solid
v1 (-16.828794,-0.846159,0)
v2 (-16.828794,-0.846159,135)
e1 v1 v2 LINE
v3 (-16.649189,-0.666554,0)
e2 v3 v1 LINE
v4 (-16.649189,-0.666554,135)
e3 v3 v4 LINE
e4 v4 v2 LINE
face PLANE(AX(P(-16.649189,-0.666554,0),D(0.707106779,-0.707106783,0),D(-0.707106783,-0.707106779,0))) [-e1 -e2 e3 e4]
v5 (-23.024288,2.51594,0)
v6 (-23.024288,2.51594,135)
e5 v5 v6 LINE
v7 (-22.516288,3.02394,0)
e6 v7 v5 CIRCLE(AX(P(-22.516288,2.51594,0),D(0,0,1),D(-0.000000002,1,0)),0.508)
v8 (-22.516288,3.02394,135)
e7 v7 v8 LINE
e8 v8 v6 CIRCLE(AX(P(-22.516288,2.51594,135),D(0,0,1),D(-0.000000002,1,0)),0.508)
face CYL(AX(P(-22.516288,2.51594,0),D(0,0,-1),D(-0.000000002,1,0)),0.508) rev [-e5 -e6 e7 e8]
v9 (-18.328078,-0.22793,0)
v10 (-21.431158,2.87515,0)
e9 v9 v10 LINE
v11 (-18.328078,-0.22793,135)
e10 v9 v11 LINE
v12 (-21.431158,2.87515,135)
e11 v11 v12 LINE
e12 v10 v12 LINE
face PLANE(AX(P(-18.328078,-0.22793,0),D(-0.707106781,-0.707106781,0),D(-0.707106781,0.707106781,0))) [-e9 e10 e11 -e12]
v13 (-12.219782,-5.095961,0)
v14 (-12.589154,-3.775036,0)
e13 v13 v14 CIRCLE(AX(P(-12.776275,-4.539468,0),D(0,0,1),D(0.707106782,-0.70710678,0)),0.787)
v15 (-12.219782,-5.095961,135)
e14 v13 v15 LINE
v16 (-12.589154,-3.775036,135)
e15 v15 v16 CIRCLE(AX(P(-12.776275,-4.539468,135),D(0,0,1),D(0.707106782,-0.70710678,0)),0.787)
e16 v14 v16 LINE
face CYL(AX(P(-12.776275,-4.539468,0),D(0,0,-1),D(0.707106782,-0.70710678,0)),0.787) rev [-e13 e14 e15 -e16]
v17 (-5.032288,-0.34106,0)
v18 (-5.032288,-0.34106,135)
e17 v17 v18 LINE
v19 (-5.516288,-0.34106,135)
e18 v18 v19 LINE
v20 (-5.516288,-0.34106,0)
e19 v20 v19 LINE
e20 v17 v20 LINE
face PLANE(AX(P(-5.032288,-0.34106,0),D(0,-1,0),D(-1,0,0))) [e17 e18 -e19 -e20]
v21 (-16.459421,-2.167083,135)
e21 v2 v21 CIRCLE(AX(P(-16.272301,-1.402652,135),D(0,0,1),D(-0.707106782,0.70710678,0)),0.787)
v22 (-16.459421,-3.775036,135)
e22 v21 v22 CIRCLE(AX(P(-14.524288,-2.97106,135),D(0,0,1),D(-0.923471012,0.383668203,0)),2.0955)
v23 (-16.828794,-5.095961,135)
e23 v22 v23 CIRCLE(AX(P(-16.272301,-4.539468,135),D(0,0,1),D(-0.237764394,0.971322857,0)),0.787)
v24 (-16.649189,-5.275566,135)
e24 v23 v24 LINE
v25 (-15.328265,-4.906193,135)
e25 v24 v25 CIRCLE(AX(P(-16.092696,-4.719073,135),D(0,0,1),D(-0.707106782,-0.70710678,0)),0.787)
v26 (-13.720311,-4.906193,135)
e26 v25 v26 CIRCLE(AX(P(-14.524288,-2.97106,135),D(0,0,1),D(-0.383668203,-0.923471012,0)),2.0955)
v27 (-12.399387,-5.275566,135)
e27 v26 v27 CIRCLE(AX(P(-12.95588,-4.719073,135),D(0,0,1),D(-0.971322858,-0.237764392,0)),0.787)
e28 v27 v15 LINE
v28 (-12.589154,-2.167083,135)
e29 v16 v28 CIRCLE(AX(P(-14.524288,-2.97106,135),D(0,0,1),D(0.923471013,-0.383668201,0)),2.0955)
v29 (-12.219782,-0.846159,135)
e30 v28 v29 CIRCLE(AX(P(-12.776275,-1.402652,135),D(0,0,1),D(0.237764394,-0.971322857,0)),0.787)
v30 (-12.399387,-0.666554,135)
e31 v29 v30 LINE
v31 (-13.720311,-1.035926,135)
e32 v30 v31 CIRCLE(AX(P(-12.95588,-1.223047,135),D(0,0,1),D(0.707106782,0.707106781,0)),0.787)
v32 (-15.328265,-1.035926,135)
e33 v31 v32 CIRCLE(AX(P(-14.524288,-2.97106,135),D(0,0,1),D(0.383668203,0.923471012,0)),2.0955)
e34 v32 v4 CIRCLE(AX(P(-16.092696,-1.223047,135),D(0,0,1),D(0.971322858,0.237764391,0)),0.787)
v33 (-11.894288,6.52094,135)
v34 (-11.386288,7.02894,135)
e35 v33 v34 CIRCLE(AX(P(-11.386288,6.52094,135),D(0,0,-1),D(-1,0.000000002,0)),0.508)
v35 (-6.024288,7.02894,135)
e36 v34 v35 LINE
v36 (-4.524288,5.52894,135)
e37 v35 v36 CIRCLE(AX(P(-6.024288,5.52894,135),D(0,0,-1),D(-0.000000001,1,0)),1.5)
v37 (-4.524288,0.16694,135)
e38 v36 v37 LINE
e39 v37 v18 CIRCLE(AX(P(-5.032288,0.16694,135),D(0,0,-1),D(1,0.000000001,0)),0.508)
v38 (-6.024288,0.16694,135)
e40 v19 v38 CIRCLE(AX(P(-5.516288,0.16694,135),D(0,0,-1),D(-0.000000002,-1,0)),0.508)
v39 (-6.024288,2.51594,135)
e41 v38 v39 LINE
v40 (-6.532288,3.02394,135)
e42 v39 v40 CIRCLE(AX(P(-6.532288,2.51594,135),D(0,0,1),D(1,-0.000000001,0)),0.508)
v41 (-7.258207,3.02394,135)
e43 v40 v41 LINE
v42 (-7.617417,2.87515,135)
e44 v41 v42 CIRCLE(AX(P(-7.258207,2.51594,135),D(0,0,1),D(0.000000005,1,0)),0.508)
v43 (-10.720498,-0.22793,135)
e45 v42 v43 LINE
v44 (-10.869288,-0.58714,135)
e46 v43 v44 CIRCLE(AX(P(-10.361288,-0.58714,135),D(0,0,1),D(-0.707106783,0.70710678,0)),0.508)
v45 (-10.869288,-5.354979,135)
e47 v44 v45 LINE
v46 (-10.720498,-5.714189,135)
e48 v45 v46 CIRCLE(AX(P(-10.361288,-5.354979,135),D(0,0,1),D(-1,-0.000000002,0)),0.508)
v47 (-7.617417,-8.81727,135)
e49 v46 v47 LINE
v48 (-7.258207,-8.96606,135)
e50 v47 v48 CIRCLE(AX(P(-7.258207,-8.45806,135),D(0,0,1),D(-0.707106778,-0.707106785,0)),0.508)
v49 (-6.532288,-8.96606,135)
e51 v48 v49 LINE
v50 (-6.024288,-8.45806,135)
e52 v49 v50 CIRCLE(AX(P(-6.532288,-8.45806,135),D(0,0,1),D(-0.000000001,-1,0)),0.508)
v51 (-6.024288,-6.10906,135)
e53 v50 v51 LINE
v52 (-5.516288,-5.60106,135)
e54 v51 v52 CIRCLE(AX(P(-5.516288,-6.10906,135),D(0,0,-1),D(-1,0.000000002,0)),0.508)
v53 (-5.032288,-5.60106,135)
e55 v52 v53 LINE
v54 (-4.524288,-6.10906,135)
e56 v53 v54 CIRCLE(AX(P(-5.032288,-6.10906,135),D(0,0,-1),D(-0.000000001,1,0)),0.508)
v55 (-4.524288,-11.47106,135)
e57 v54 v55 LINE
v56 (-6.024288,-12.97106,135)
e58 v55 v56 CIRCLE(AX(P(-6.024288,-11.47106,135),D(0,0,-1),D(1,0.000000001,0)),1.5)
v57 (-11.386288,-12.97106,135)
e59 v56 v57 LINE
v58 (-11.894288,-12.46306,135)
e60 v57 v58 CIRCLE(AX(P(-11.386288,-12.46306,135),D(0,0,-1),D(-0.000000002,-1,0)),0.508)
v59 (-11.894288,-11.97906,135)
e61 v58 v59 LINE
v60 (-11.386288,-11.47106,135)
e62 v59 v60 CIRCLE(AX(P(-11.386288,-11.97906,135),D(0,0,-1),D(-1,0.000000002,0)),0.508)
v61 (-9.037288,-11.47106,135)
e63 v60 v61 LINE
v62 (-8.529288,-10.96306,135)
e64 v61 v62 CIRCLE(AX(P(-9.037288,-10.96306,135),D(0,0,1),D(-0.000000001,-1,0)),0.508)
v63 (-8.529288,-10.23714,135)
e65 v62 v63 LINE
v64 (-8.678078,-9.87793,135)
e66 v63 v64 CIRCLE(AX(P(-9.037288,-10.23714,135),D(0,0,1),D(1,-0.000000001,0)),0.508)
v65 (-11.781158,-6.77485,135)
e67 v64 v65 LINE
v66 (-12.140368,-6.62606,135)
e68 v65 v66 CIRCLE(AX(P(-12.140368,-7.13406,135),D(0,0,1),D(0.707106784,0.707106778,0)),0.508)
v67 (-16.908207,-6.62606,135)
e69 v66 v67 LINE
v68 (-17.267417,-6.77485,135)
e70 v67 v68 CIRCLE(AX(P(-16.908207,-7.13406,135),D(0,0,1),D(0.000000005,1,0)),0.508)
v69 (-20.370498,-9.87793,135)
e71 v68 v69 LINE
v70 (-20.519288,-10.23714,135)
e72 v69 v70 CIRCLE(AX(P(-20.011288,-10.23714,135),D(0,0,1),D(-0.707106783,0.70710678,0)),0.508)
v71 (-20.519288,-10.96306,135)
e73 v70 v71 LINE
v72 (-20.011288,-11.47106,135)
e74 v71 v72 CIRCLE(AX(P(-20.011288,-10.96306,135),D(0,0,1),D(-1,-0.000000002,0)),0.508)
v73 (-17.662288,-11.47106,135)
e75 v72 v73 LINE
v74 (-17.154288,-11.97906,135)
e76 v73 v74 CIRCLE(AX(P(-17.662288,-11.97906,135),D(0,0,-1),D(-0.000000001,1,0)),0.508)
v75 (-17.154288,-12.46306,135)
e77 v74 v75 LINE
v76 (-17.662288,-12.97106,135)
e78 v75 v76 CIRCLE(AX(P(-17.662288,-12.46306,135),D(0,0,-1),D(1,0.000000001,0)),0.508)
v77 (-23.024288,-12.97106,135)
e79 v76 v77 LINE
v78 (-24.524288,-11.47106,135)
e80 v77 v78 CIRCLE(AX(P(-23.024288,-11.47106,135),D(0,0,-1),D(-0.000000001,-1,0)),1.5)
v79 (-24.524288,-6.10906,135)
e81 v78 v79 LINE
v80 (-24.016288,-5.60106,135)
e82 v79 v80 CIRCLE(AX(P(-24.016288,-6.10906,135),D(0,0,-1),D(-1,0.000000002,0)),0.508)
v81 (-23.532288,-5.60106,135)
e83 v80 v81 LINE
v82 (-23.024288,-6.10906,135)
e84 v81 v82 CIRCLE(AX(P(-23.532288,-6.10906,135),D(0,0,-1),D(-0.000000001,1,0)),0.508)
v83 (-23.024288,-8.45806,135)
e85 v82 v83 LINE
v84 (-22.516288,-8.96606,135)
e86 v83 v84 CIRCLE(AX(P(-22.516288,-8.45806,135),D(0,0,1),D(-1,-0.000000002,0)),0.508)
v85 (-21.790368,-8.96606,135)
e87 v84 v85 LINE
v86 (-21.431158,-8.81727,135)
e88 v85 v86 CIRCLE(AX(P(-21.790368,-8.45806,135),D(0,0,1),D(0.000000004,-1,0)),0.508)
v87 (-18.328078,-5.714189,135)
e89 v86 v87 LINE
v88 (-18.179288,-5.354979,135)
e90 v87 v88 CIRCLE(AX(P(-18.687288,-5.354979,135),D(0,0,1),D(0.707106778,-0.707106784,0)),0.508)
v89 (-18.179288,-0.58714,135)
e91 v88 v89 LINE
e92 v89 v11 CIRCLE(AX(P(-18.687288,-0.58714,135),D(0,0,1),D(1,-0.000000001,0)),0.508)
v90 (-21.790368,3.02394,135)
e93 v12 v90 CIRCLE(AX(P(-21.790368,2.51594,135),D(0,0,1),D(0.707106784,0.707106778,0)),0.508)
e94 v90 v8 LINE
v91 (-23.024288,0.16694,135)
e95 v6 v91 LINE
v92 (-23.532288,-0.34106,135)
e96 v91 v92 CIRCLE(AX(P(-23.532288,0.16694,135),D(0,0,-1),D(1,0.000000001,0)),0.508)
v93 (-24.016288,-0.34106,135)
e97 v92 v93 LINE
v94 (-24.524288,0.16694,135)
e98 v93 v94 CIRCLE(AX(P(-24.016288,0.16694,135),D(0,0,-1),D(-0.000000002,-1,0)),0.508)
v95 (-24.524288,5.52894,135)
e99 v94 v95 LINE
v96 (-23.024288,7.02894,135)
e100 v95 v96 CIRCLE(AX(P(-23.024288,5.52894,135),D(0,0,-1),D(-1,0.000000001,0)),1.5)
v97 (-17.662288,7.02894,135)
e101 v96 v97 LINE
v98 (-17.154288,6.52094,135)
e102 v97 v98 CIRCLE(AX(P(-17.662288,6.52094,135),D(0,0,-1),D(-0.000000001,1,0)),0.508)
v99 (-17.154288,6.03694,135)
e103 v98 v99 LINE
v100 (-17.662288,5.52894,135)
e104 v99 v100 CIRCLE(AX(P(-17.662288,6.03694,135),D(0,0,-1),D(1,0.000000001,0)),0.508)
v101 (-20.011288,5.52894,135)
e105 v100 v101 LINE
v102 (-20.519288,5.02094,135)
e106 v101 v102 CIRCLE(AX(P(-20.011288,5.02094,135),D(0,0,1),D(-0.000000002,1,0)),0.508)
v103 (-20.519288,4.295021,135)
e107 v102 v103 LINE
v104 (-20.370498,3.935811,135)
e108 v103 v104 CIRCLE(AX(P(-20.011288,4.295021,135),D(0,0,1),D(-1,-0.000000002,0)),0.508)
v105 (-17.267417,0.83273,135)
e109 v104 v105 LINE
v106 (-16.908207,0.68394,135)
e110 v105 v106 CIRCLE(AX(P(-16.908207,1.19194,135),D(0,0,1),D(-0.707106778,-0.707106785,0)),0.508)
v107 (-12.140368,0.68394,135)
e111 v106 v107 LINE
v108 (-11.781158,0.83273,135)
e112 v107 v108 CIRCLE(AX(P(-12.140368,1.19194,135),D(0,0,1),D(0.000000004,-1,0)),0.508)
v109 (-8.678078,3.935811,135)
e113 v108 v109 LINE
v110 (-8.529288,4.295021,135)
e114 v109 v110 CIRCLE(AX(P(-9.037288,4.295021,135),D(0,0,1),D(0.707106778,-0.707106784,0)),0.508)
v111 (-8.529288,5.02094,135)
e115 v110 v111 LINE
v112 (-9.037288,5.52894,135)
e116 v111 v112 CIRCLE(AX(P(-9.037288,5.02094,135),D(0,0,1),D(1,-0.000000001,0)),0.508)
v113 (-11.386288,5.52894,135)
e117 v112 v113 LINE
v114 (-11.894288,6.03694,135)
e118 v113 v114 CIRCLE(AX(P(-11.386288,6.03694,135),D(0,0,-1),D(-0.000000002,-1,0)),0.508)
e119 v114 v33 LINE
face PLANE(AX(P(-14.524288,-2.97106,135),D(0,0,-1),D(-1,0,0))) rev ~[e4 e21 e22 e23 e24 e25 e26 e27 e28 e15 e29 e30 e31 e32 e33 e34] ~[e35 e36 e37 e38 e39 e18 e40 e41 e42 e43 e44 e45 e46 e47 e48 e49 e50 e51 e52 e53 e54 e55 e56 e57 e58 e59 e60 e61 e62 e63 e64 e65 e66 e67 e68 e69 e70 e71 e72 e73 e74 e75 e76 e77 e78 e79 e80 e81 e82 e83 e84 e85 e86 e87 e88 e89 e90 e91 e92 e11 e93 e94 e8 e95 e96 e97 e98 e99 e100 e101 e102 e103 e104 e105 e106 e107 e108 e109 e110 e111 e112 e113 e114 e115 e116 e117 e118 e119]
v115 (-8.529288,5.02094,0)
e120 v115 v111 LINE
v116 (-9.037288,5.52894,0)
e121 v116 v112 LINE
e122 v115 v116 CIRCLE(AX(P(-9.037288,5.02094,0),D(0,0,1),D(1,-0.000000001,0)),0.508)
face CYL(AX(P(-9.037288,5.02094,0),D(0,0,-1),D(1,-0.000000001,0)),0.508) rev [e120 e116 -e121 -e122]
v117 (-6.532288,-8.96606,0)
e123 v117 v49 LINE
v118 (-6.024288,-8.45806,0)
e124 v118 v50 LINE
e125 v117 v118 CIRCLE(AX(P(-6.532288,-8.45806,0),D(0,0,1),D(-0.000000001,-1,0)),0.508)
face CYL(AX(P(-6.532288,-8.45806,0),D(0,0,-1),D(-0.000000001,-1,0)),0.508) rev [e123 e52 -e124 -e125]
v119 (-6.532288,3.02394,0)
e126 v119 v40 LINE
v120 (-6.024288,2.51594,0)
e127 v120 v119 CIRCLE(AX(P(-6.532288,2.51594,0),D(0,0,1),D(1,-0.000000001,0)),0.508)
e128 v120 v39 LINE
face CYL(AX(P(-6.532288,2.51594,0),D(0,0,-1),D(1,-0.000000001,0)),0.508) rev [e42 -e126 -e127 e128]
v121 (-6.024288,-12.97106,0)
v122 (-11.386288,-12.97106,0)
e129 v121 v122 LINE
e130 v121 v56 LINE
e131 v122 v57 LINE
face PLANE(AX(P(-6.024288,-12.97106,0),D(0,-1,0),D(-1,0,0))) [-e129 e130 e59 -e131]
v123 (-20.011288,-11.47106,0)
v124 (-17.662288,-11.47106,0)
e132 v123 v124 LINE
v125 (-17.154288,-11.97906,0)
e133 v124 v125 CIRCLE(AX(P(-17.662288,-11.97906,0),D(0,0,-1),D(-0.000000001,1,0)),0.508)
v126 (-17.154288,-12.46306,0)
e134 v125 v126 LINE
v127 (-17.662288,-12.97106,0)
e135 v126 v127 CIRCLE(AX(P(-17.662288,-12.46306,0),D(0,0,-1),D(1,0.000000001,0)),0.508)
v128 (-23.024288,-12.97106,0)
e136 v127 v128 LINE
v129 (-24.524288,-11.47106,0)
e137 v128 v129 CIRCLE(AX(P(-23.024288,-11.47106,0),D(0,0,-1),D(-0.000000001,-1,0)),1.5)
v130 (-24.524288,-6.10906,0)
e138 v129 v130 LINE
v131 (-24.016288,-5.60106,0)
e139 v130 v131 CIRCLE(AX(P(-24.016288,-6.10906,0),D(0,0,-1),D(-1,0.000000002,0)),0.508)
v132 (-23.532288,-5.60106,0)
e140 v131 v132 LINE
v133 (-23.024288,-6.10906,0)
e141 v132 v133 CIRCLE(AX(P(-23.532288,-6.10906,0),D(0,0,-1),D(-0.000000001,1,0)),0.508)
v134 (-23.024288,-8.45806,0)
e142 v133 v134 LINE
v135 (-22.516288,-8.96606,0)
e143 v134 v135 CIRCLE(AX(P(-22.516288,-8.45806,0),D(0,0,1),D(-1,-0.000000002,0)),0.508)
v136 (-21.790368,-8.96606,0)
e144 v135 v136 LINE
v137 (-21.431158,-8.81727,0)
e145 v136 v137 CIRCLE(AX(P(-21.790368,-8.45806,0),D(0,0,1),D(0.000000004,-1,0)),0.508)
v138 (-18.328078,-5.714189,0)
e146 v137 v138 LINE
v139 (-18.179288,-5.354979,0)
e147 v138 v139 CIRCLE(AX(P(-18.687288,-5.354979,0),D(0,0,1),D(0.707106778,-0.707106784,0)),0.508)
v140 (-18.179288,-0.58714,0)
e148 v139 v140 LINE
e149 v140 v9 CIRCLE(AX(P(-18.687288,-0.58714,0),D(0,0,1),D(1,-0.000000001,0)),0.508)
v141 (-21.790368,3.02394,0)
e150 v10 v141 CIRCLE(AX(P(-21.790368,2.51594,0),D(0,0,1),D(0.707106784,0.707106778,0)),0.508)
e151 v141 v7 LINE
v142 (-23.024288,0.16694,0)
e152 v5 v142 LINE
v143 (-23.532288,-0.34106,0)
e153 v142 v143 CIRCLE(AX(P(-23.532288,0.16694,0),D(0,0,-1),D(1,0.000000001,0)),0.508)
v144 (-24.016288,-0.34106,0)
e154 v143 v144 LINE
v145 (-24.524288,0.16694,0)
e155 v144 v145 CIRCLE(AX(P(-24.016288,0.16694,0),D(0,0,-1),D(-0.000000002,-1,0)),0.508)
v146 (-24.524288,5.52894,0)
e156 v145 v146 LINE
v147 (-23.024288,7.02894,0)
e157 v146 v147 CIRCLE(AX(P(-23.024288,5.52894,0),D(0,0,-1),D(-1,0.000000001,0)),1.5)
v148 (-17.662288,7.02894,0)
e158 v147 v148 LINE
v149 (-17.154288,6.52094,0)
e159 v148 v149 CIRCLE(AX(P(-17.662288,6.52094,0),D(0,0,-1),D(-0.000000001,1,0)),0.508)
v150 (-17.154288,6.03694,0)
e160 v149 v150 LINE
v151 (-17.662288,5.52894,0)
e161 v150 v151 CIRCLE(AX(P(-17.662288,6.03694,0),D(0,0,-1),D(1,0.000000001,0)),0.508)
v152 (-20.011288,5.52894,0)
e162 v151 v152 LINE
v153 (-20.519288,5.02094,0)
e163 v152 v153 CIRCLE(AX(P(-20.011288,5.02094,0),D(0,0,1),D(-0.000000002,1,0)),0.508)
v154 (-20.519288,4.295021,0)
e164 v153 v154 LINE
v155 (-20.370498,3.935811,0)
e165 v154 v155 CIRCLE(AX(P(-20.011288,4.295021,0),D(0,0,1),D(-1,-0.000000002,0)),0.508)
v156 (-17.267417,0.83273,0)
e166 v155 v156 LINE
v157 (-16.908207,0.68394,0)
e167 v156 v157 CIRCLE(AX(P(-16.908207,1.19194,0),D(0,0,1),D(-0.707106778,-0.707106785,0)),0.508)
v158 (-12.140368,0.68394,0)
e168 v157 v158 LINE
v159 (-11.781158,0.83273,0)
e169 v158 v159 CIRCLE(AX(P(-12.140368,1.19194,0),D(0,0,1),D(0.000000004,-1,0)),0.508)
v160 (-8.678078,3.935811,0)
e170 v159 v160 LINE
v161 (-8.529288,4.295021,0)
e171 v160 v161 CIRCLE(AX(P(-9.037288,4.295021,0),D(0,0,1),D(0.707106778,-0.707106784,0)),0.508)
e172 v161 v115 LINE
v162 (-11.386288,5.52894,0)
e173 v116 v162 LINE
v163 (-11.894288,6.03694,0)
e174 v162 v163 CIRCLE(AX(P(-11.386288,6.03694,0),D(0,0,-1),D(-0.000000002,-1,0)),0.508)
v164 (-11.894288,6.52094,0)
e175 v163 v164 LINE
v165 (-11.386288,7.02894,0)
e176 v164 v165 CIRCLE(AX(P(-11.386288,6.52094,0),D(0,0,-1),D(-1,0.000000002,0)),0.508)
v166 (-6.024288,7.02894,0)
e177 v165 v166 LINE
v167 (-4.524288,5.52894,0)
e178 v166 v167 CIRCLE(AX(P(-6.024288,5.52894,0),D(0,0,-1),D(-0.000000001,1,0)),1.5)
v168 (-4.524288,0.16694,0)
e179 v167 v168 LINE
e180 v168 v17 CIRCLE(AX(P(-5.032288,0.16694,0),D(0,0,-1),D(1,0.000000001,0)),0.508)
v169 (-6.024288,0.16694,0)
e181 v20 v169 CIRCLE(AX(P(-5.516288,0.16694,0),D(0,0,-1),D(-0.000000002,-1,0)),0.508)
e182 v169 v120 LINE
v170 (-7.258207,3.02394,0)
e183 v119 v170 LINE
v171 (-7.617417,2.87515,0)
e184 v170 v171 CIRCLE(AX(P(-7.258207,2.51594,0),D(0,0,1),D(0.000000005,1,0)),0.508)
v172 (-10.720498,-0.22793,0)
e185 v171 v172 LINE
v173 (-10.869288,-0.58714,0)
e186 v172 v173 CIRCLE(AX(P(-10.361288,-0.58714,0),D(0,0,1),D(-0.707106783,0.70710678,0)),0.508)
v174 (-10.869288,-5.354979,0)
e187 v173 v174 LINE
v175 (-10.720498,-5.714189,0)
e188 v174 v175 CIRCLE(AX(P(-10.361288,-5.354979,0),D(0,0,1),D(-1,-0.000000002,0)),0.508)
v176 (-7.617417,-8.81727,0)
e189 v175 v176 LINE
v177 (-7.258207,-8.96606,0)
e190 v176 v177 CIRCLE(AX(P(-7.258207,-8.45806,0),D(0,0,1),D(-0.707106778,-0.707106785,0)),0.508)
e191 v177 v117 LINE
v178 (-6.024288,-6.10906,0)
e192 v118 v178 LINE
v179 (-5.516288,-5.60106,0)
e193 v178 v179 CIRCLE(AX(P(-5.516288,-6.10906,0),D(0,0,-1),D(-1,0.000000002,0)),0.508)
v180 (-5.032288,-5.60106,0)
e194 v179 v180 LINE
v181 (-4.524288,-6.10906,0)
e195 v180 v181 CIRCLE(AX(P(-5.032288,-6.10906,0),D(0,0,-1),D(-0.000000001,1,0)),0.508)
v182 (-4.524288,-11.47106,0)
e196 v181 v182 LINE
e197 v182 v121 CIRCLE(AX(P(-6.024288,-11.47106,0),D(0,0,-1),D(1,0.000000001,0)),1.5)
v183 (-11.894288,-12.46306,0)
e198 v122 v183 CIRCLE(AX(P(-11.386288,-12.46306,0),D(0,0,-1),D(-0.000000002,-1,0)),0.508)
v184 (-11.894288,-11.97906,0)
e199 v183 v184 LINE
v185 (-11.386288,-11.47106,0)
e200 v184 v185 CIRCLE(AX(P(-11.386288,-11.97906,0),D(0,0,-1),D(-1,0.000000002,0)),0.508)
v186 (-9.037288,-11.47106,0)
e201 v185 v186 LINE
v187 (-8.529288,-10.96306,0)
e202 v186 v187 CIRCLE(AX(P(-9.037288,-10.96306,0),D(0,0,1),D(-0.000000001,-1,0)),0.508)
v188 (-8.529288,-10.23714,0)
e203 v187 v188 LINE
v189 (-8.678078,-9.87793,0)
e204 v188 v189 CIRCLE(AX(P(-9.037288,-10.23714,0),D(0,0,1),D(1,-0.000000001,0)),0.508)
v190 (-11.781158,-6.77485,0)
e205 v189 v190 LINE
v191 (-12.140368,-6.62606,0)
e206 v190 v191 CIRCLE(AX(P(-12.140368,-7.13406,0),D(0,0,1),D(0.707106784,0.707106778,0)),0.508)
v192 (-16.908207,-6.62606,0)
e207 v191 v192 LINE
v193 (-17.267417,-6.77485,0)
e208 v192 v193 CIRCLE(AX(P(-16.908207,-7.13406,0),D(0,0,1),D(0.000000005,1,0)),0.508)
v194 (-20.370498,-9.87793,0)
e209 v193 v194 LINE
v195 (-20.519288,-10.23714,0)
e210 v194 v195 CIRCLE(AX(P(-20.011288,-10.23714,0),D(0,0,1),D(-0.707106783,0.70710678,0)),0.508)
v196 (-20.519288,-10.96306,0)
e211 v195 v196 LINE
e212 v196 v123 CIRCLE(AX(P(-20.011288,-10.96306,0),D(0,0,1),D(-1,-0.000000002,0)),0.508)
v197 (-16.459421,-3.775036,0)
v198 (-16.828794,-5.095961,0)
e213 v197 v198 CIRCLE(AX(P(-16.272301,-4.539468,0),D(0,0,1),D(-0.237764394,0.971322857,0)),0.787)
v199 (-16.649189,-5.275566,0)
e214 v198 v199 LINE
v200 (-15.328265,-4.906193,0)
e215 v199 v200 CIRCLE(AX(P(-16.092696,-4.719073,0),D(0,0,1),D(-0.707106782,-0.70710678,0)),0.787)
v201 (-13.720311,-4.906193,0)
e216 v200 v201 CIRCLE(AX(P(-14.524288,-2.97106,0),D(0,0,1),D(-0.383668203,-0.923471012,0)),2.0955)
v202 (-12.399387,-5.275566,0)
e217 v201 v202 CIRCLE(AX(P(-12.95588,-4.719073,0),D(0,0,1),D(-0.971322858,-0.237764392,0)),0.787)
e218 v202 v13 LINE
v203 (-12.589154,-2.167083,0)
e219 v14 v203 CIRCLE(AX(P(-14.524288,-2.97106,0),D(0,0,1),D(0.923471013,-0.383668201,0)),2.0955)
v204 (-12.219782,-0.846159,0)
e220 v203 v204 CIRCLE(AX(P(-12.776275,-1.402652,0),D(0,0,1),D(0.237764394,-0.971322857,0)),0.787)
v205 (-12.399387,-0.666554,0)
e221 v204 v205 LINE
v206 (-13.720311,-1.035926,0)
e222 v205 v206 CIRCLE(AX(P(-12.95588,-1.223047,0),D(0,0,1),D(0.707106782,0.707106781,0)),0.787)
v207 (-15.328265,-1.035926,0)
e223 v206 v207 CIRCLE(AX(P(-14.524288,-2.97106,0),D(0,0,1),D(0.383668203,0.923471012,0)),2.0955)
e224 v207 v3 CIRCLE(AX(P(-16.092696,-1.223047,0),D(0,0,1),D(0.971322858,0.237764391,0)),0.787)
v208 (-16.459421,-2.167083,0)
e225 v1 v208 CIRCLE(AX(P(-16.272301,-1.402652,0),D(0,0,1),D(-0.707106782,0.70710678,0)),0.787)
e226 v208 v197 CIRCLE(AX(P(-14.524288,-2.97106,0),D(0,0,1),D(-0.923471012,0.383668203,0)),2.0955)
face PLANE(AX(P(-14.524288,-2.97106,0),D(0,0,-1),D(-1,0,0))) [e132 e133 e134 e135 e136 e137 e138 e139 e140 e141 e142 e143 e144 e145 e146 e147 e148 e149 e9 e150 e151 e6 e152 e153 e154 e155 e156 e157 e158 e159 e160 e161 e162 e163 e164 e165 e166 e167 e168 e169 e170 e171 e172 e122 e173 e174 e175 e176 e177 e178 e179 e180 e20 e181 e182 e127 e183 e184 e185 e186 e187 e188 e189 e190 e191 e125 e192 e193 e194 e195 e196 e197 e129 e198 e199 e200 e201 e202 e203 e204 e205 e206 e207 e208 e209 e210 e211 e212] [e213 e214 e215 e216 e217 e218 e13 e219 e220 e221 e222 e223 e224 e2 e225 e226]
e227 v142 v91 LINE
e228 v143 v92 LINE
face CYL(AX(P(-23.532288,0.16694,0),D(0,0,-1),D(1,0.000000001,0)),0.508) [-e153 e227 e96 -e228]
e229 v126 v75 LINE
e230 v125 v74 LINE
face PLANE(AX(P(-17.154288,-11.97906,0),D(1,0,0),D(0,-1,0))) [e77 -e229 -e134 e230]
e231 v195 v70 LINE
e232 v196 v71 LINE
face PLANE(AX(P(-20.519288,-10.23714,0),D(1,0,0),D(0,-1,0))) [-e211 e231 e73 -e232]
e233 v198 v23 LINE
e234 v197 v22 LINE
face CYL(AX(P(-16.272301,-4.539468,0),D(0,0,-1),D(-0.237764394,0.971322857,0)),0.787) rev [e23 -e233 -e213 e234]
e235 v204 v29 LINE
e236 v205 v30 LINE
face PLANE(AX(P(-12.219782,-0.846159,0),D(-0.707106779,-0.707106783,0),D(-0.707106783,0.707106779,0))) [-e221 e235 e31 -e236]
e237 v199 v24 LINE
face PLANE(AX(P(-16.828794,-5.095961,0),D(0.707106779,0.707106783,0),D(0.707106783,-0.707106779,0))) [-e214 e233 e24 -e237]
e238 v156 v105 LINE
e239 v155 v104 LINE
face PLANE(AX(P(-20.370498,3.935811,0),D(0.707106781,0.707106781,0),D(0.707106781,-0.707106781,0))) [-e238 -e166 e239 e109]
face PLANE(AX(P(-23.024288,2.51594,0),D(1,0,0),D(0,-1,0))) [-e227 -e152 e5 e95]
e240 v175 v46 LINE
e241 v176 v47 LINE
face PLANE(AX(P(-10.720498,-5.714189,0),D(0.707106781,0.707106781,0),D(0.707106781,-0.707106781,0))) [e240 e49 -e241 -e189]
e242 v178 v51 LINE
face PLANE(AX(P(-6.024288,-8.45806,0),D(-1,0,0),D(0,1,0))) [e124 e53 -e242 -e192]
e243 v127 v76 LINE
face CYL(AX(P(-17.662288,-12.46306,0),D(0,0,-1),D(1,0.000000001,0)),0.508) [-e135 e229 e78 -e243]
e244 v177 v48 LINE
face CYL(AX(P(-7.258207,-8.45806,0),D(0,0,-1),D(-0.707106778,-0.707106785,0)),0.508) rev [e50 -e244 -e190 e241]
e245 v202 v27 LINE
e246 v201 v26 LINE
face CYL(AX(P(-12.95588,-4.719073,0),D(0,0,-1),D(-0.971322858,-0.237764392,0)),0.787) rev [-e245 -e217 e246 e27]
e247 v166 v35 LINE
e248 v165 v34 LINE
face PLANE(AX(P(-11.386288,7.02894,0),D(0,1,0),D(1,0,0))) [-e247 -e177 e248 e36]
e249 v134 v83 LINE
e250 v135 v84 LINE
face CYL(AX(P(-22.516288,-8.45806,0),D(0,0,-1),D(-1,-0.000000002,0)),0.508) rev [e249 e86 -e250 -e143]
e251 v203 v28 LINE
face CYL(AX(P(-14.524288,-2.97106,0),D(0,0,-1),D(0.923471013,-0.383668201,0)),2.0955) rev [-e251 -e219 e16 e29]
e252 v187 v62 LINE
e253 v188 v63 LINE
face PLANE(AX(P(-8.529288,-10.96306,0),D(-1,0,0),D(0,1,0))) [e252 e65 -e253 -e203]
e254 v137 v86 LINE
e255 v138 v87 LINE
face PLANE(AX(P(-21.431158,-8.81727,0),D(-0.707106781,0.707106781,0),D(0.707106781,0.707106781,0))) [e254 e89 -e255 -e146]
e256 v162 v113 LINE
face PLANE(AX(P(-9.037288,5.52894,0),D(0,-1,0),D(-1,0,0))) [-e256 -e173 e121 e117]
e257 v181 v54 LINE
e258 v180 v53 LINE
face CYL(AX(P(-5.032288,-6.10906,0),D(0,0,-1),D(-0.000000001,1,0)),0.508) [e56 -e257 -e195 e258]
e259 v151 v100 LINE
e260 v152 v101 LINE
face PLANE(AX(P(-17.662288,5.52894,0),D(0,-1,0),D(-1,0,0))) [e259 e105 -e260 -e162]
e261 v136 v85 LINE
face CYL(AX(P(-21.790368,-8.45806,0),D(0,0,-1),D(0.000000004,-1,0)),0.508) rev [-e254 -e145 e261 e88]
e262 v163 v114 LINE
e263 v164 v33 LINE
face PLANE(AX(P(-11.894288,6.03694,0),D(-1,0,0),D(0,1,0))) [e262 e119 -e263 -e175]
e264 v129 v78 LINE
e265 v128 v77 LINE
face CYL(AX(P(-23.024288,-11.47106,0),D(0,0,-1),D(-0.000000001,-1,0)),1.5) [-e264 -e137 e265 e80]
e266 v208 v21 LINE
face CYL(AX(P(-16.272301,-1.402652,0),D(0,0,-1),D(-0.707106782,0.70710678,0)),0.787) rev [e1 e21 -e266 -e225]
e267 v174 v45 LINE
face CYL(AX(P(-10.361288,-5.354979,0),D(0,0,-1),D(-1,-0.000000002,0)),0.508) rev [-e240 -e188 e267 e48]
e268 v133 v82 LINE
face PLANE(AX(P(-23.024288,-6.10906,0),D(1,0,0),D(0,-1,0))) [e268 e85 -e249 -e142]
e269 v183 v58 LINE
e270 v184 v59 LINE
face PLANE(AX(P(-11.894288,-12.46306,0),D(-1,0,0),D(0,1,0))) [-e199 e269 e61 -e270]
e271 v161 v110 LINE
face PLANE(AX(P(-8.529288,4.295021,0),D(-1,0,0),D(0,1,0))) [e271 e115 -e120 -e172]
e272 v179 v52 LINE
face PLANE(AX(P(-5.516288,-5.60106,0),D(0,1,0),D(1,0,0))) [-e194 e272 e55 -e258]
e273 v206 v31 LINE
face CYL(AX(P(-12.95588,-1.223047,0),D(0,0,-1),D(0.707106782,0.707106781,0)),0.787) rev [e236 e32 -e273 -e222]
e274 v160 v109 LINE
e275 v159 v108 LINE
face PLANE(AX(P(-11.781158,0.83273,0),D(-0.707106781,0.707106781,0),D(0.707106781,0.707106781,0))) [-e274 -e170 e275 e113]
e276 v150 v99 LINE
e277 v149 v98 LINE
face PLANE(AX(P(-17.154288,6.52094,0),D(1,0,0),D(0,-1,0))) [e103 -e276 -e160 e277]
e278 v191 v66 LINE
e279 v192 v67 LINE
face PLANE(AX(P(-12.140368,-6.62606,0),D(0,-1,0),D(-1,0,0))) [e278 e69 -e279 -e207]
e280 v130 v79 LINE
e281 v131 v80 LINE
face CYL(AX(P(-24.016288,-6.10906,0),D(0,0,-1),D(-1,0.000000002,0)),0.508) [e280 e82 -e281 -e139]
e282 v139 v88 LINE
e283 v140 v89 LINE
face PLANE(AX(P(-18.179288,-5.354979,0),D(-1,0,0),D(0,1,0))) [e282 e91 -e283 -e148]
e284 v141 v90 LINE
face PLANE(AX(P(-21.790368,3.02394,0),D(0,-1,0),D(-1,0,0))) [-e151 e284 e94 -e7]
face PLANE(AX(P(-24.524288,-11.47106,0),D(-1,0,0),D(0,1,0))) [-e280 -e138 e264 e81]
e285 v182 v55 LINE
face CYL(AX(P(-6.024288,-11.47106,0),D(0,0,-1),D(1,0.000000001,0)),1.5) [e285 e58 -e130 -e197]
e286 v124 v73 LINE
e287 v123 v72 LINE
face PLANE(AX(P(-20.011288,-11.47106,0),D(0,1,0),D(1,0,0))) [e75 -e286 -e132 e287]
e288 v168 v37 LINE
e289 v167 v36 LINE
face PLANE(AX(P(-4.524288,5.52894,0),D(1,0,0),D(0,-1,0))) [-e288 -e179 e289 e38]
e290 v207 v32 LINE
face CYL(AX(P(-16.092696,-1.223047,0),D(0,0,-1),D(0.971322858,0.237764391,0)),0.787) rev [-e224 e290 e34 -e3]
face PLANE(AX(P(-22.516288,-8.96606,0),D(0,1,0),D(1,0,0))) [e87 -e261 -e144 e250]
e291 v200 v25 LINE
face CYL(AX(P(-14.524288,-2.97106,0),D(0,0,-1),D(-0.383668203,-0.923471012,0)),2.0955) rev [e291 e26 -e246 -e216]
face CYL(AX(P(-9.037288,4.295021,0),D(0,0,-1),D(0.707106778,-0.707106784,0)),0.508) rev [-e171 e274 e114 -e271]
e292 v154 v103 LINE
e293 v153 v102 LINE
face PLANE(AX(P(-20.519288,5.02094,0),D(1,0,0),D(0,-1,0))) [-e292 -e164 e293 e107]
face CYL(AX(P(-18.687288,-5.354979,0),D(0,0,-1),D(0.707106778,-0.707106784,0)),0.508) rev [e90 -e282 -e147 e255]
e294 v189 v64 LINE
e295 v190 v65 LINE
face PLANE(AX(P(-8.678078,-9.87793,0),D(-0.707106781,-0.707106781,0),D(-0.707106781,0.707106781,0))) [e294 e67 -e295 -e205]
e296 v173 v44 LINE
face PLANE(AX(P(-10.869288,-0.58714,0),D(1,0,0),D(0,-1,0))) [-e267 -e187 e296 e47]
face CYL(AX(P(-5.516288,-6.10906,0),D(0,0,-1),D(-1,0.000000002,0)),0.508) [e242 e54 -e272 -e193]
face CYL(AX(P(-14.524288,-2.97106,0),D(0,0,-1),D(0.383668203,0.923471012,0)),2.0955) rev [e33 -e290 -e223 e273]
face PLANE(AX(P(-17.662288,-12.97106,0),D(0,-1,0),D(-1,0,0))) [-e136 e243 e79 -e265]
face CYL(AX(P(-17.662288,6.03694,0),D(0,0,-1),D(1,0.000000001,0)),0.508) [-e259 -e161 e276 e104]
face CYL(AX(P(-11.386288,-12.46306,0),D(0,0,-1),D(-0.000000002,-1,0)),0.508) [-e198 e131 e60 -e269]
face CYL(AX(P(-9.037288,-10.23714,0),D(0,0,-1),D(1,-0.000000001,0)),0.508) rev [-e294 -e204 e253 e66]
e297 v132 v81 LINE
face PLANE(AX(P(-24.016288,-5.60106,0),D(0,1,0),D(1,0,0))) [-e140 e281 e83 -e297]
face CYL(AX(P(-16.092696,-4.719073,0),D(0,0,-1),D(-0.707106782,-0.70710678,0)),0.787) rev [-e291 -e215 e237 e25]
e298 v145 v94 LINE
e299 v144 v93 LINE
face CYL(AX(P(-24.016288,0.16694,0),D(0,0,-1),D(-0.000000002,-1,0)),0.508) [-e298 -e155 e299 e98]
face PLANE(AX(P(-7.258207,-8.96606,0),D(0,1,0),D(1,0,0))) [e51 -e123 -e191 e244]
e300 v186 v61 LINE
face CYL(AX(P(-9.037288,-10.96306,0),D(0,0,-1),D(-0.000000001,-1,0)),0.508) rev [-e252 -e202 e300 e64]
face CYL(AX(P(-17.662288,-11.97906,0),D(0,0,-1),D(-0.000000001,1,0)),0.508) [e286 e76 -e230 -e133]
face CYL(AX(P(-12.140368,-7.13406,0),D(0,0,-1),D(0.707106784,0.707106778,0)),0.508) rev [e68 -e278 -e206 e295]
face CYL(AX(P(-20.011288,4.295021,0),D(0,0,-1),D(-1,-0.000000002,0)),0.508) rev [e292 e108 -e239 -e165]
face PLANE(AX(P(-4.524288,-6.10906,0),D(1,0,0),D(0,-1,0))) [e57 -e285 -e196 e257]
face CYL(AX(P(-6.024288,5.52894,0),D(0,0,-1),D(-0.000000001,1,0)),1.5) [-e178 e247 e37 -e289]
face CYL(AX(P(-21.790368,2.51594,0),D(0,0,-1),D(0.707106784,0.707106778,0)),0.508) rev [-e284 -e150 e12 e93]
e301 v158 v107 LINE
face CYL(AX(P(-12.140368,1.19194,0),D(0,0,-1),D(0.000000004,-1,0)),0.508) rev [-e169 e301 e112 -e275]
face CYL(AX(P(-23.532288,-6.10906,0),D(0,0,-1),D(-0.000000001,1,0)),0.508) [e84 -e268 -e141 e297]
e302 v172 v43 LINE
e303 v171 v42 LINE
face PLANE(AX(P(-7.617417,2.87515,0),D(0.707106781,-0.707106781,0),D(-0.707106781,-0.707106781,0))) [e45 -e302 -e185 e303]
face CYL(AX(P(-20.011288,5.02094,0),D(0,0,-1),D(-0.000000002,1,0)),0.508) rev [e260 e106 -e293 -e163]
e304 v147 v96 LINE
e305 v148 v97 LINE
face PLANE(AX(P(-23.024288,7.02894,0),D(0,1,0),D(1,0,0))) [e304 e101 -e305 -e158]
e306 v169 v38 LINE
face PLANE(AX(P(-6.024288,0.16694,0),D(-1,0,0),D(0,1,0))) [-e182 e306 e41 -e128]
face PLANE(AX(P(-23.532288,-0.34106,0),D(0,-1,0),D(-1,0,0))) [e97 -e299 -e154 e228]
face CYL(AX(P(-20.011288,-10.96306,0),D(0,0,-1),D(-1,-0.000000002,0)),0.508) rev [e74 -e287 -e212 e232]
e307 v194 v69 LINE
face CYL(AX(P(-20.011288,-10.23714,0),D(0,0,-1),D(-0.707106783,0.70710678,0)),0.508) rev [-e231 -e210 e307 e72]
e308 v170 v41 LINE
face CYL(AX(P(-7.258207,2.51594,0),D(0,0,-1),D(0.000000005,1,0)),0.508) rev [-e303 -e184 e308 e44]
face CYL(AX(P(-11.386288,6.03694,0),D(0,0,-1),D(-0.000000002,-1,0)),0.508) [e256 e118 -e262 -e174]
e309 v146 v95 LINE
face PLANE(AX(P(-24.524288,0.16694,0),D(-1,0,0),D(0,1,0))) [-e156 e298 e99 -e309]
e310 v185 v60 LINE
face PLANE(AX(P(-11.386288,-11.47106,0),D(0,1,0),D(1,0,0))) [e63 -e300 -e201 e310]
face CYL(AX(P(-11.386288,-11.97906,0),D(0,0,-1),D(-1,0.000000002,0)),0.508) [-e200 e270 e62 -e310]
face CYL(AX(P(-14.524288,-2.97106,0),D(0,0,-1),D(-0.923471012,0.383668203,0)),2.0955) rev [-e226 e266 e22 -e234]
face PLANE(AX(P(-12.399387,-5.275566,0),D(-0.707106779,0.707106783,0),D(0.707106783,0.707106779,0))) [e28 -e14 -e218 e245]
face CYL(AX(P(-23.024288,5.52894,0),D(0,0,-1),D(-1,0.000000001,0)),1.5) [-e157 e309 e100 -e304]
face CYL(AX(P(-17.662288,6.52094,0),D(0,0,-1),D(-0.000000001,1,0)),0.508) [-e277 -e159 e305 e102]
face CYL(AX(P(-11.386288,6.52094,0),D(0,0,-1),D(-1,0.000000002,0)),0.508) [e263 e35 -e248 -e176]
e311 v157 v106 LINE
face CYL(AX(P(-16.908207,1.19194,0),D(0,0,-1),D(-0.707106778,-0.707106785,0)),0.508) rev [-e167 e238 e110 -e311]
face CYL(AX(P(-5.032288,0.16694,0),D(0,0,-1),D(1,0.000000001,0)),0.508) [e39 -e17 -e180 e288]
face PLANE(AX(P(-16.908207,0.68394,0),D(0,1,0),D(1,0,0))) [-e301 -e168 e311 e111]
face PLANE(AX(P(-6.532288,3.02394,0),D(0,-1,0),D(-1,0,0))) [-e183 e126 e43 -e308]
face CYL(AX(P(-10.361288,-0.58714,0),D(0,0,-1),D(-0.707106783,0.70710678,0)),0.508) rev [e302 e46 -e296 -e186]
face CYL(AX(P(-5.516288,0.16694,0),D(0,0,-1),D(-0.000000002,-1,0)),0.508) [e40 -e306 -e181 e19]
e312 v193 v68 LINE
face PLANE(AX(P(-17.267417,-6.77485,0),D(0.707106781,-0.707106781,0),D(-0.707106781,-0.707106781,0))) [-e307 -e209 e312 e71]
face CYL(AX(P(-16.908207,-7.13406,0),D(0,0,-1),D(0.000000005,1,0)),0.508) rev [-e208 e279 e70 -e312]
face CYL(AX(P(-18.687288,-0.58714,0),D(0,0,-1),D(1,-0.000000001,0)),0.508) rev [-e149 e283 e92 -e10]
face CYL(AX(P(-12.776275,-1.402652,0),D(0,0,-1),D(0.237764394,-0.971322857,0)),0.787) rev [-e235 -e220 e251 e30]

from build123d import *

# Parameters (mm, degrees)
EXTRUDE1_DEPTH = 135


with BuildPart() as part:
    # Sketch1 → Extrude1 (new body)
    with BuildSketch(Plane.XY):
        with BuildLine():
            Line((-5.032287798, -0.341059771), (-5.516287798, -0.341059771))
            ThreePointArc((-5.516287798, -0.341059771), (-5.875498042, -0.192270016), (-6.024287798, 0.166940229))
            Line((-6.024287798, 0.166940229), (-6.024287798, 2.515940229))
            ThreePointArc((-6.024287798, 2.515940229), (-6.173077553, 2.875150474), (-6.532287798, 3.023940229))
            Line((-6.532287798, 3.023940229), (-7.258207136, 3.023940229))
            ThreePointArc((-7.258207136, 3.023940229), (-7.45261032, 2.985271032), (-7.617417381, 2.875150474))
            Line((-7.617417381, 2.875150474), (-10.720498042, -0.227930187))
            ThreePointArc((-10.720498042, -0.227930187), (-10.8306186, -0.392737249), (-10.869287798, -0.587140432))
            Line((-10.869287798, -0.587140432), (-10.869287798, -5.354979109))
            ThreePointArc((-10.869287798, -5.354979109), (-10.8306186, -5.549382293), (-10.720498042, -5.714189354))
            Line((-10.720498042, -5.714189354), (-7.617417381, -8.817270016))
            ThreePointArc((-7.617417381, -8.817270016), (-7.45261032, -8.927390573), (-7.258207136, -8.966059771))
            Line((-7.258207136, -8.966059771), (-6.532287798, -8.966059771))
            ThreePointArc((-6.532287798, -8.966059771), (-6.173077553, -8.817270016), (-6.024287798, -8.458059771))
            Line((-6.024287798, -8.458059771), (-6.024287798, -6.109059771))
            ThreePointArc((-6.024287798, -6.109059771), (-5.875498042, -5.749849526), (-5.516287798, -5.601059771))
            Line((-5.516287798, -5.601059771), (-5.032287798, -5.601059771))
            ThreePointArc((-5.032287798, -5.601059771), (-4.673077553, -5.749849526), (-4.524287798, -6.109059771))
            Line((-4.524287798, -6.109059771), (-4.524287798, -11.471059771))
            ThreePointArc((-4.524287798, -11.471059771), (-4.963627626, -12.531719943), (-6.024287798, -12.971059771))
            Line((-6.024287798, -12.971059771), (-11.386287798, -12.971059771))
            ThreePointArc((-11.386287798, -12.971059771), (-11.745498042, -12.822270016), (-11.894287798, -12.463059771))
            Line((-11.894287798, -12.463059771), (-11.894287798, -11.979059771))
            ThreePointArc((-11.894287798, -11.979059771), (-11.745498042, -11.619849526), (-11.386287798, -11.471059771))
            Line((-11.386287798, -11.471059771), (-9.037287798, -11.471059771))
            ThreePointArc((-9.037287798, -11.471059771), (-8.678077553, -11.322270016), (-8.529287798, -10.963059771))
            Line((-8.529287798, -10.963059771), (-8.529287798, -10.237140432))
            ThreePointArc((-8.529287798, -10.237140432), (-8.567956995, -10.042737249), (-8.678077553, -9.877930187))
            Line((-8.678077553, -9.877930187), (-11.781158214, -6.774849526))
            ThreePointArc((-11.781158214, -6.774849526), (-11.945965275, -6.664728968), (-12.140368459, -6.626059771))
            Line((-12.140368459, -6.626059771), (-16.908207136, -6.626059771))
            ThreePointArc((-16.908207136, -6.626059771), (-17.10261032, -6.664728968), (-17.267417381, -6.774849526))
            Line((-17.267417381, -6.774849526), (-20.370498042, -9.877930187))
            ThreePointArc((-20.370498042, -9.877930187), (-20.4806186, -10.042737249), (-20.519287798, -10.237140432))
            Line((-20.519287798, -10.237140432), (-20.519287798, -10.963059771))
            ThreePointArc((-20.519287798, -10.963059771), (-20.370498042, -11.322270016), (-20.011287798, -11.471059771))
            Line((-20.011287798, -11.471059771), (-17.662287798, -11.471059771))
            ThreePointArc((-17.662287798, -11.471059771), (-17.303077553, -11.619849526), (-17.154287798, -11.979059771))
            Line((-17.154287798, -11.979059771), (-17.154287798, -12.463059771))
            ThreePointArc((-17.154287798, -12.463059771), (-17.303077553, -12.822270016), (-17.662287798, -12.971059771))
            Line((-17.662287798, -12.971059771), (-23.024287798, -12.971059771))
            ThreePointArc((-23.024287798, -12.971059771), (-24.084947969, -12.531719943), (-24.524287798, -11.471059771))
            Line((-24.524287798, -11.471059771), (-24.524287798, -6.109059771))
            ThreePointArc((-24.524287798, -6.109059771), (-24.375498042, -5.749849526), (-24.016287798, -5.601059771))
            Line((-24.016287798, -5.601059771), (-23.532287798, -5.601059771))
            ThreePointArc((-23.532287798, -5.601059771), (-23.173077553, -5.749849526), (-23.024287798, -6.109059771))
            Line((-23.024287798, -6.109059771), (-23.024287798, -8.458059771))
            ThreePointArc((-23.024287798, -8.458059771), (-22.875498042, -8.817270016), (-22.516287798, -8.966059771))
            Line((-22.516287798, -8.966059771), (-21.790368459, -8.966059771))
            ThreePointArc((-21.790368459, -8.966059771), (-21.595965275, -8.927390573), (-21.431158214, -8.817270016))
            Line((-21.431158214, -8.817270016), (-18.328077553, -5.714189354))
            ThreePointArc((-18.328077553, -5.714189354), (-18.217956995, -5.549382293), (-18.179287798, -5.354979109))
            Line((-18.179287798, -5.354979109), (-18.179287798, -0.587140432))
            ThreePointArc((-18.179287798, -0.587140432), (-18.217956995, -0.392737249), (-18.328077553, -0.227930187))
            Line((-18.328077553, -0.227930187), (-21.431158214, 2.875150474))
            ThreePointArc((-21.431158214, 2.875150474), (-21.595965275, 2.985271032), (-21.790368459, 3.023940229))
            Line((-21.790368459, 3.023940229), (-22.516287798, 3.023940229))
            ThreePointArc((-22.516287798, 3.023940229), (-22.875498042, 2.875150474), (-23.024287798, 2.515940229))
            Line((-23.024287798, 2.515940229), (-23.024287798, 0.166940229))
            ThreePointArc((-23.024287798, 0.166940229), (-23.173077553, -0.192270016), (-23.532287798, -0.341059771))
            Line((-23.532287798, -0.341059771), (-24.016287798, -0.341059771))
            ThreePointArc((-24.016287798, -0.341059771), (-24.375498042, -0.192270016), (-24.524287798, 0.166940229))
            Line((-24.524287798, 0.166940229), (-24.524287798, 5.528940229))
            ThreePointArc((-24.524287798, 5.528940229), (-24.084947969, 6.589600401), (-23.024287798, 7.028940229))
            Line((-23.024287798, 7.028940229), (-17.662287798, 7.028940229))
            ThreePointArc((-17.662287798, 7.028940229), (-17.303077553, 6.880150474), (-17.154287798, 6.520940229))
            Line((-17.154287798, 6.520940229), (-17.154287798, 6.036940229))
            ThreePointArc((-17.154287798, 6.036940229), (-17.303077553, 5.677729984), (-17.662287798, 5.528940229))
            Line((-17.662287798, 5.528940229), (-20.011287798, 5.528940229))
            ThreePointArc((-20.011287798, 5.528940229), (-20.370498042, 5.380150474), (-20.519287798, 5.020940229))
            Line((-20.519287798, 5.020940229), (-20.519287798, 4.295020891))
            ThreePointArc((-20.519287798, 4.295020891), (-20.4806186, 4.100617707), (-20.370498042, 3.935810646))
            Line((-20.370498042, 3.935810646), (-17.267417381, 0.832729984))
            ThreePointArc((-17.267417381, 0.832729984), (-17.10261032, 0.722609427), (-16.908207136, 0.683940229))
            Line((-16.908207136, 0.683940229), (-12.140368459, 0.683940229))
            ThreePointArc((-12.140368459, 0.683940229), (-11.945965275, 0.722609427), (-11.781158214, 0.832729984))
            Line((-11.781158214, 0.832729984), (-8.678077553, 3.935810646))
            ThreePointArc((-8.678077553, 3.935810646), (-8.567956995, 4.100617707), (-8.529287798, 4.295020891))
            Line((-8.529287798, 4.295020891), (-8.529287798, 5.020940229))
            ThreePointArc((-8.529287798, 5.020940229), (-8.678077553, 5.380150474), (-9.037287798, 5.528940229))
            Line((-9.037287798, 5.528940229), (-11.386287798, 5.528940229))
            ThreePointArc((-11.386287798, 5.528940229), (-11.745498042, 5.677729984), (-11.894287798, 6.036940229))
            Line((-11.894287798, 6.036940229), (-11.894287798, 6.520940229))
            ThreePointArc((-11.894287798, 6.520940229), (-11.745498042, 6.880150474), (-11.386287798, 7.028940229))
            Line((-11.386287798, 7.028940229), (-6.024287798, 7.028940229))
            ThreePointArc((-6.024287798, 7.028940229), (-4.963627626, 6.589600401), (-4.524287798, 5.528940229))
            Line((-4.524287798, 5.528940229), (-4.524287798, 0.166940229))
            ThreePointArc((-4.524287798, 0.166940229), (-4.673077553, -0.192270016), (-5.032287798, -0.341059771))
        make_face()
        with BuildLine():
            Line((-12.399386954, -5.275565737), (-12.219781831, -5.095960615))
            ThreePointArc((-12.219781831, -5.095960615), (-12.018349781, -4.327527582), (-12.589154291, -3.775036489))
            ThreePointArc((-12.589154291, -3.775036489), (-12.428787798, -2.971059771), (-12.589154291, -2.167083053))
            ThreePointArc((-12.589154291, -2.167083053), (-12.018349781, -1.61459196), (-12.219781831, -0.846158927))
            Line((-12.219781831, -0.846158927), (-12.399386954, -0.666553805))
            ThreePointArc((-12.399386954, -0.666553805), (-13.167819987, -0.465121754), (-13.72031108, -1.035926265))
            ThreePointArc((-13.72031108, -1.035926265), (-14.524287798, -0.875559771), (-15.328264516, -1.035926265))
            ThreePointArc((-15.328264516, -1.035926265), (-15.880755608, -0.465121754), (-16.649188641, -0.666553805))
            Line((-16.649188641, -0.666553805), (-16.828793764, -0.846158927))
            ThreePointArc((-16.828793764, -0.846158927), (-17.030225814, -1.61459196), (-16.459421304, -2.167083053))
            ThreePointArc((-16.459421304, -2.167083053), (-16.619787798, -2.971059771), (-16.459421304, -3.775036489))
            ThreePointArc((-16.459421304, -3.775036489), (-17.030225814, -4.327527582), (-16.828793764, -5.095960615))
            Line((-16.828793764, -5.095960615), (-16.649188641, -5.275565737))
            ThreePointArc((-16.649188641, -5.275565737), (-15.880755608, -5.476997788), (-15.328264516, -4.906193277))
            ThreePointArc((-15.328264516, -4.906193277), (-14.524287798, -5.066559771), (-13.72031108, -4.906193277))
            ThreePointArc((-13.72031108, -4.906193277), (-13.167819987, -5.476997788), (-12.399386954, -5.275565737))
        make_face(mode=Mode.SUBTRACT)
    extrude(amount=EXTRUDE1_DEPTH)


solid = part.part
